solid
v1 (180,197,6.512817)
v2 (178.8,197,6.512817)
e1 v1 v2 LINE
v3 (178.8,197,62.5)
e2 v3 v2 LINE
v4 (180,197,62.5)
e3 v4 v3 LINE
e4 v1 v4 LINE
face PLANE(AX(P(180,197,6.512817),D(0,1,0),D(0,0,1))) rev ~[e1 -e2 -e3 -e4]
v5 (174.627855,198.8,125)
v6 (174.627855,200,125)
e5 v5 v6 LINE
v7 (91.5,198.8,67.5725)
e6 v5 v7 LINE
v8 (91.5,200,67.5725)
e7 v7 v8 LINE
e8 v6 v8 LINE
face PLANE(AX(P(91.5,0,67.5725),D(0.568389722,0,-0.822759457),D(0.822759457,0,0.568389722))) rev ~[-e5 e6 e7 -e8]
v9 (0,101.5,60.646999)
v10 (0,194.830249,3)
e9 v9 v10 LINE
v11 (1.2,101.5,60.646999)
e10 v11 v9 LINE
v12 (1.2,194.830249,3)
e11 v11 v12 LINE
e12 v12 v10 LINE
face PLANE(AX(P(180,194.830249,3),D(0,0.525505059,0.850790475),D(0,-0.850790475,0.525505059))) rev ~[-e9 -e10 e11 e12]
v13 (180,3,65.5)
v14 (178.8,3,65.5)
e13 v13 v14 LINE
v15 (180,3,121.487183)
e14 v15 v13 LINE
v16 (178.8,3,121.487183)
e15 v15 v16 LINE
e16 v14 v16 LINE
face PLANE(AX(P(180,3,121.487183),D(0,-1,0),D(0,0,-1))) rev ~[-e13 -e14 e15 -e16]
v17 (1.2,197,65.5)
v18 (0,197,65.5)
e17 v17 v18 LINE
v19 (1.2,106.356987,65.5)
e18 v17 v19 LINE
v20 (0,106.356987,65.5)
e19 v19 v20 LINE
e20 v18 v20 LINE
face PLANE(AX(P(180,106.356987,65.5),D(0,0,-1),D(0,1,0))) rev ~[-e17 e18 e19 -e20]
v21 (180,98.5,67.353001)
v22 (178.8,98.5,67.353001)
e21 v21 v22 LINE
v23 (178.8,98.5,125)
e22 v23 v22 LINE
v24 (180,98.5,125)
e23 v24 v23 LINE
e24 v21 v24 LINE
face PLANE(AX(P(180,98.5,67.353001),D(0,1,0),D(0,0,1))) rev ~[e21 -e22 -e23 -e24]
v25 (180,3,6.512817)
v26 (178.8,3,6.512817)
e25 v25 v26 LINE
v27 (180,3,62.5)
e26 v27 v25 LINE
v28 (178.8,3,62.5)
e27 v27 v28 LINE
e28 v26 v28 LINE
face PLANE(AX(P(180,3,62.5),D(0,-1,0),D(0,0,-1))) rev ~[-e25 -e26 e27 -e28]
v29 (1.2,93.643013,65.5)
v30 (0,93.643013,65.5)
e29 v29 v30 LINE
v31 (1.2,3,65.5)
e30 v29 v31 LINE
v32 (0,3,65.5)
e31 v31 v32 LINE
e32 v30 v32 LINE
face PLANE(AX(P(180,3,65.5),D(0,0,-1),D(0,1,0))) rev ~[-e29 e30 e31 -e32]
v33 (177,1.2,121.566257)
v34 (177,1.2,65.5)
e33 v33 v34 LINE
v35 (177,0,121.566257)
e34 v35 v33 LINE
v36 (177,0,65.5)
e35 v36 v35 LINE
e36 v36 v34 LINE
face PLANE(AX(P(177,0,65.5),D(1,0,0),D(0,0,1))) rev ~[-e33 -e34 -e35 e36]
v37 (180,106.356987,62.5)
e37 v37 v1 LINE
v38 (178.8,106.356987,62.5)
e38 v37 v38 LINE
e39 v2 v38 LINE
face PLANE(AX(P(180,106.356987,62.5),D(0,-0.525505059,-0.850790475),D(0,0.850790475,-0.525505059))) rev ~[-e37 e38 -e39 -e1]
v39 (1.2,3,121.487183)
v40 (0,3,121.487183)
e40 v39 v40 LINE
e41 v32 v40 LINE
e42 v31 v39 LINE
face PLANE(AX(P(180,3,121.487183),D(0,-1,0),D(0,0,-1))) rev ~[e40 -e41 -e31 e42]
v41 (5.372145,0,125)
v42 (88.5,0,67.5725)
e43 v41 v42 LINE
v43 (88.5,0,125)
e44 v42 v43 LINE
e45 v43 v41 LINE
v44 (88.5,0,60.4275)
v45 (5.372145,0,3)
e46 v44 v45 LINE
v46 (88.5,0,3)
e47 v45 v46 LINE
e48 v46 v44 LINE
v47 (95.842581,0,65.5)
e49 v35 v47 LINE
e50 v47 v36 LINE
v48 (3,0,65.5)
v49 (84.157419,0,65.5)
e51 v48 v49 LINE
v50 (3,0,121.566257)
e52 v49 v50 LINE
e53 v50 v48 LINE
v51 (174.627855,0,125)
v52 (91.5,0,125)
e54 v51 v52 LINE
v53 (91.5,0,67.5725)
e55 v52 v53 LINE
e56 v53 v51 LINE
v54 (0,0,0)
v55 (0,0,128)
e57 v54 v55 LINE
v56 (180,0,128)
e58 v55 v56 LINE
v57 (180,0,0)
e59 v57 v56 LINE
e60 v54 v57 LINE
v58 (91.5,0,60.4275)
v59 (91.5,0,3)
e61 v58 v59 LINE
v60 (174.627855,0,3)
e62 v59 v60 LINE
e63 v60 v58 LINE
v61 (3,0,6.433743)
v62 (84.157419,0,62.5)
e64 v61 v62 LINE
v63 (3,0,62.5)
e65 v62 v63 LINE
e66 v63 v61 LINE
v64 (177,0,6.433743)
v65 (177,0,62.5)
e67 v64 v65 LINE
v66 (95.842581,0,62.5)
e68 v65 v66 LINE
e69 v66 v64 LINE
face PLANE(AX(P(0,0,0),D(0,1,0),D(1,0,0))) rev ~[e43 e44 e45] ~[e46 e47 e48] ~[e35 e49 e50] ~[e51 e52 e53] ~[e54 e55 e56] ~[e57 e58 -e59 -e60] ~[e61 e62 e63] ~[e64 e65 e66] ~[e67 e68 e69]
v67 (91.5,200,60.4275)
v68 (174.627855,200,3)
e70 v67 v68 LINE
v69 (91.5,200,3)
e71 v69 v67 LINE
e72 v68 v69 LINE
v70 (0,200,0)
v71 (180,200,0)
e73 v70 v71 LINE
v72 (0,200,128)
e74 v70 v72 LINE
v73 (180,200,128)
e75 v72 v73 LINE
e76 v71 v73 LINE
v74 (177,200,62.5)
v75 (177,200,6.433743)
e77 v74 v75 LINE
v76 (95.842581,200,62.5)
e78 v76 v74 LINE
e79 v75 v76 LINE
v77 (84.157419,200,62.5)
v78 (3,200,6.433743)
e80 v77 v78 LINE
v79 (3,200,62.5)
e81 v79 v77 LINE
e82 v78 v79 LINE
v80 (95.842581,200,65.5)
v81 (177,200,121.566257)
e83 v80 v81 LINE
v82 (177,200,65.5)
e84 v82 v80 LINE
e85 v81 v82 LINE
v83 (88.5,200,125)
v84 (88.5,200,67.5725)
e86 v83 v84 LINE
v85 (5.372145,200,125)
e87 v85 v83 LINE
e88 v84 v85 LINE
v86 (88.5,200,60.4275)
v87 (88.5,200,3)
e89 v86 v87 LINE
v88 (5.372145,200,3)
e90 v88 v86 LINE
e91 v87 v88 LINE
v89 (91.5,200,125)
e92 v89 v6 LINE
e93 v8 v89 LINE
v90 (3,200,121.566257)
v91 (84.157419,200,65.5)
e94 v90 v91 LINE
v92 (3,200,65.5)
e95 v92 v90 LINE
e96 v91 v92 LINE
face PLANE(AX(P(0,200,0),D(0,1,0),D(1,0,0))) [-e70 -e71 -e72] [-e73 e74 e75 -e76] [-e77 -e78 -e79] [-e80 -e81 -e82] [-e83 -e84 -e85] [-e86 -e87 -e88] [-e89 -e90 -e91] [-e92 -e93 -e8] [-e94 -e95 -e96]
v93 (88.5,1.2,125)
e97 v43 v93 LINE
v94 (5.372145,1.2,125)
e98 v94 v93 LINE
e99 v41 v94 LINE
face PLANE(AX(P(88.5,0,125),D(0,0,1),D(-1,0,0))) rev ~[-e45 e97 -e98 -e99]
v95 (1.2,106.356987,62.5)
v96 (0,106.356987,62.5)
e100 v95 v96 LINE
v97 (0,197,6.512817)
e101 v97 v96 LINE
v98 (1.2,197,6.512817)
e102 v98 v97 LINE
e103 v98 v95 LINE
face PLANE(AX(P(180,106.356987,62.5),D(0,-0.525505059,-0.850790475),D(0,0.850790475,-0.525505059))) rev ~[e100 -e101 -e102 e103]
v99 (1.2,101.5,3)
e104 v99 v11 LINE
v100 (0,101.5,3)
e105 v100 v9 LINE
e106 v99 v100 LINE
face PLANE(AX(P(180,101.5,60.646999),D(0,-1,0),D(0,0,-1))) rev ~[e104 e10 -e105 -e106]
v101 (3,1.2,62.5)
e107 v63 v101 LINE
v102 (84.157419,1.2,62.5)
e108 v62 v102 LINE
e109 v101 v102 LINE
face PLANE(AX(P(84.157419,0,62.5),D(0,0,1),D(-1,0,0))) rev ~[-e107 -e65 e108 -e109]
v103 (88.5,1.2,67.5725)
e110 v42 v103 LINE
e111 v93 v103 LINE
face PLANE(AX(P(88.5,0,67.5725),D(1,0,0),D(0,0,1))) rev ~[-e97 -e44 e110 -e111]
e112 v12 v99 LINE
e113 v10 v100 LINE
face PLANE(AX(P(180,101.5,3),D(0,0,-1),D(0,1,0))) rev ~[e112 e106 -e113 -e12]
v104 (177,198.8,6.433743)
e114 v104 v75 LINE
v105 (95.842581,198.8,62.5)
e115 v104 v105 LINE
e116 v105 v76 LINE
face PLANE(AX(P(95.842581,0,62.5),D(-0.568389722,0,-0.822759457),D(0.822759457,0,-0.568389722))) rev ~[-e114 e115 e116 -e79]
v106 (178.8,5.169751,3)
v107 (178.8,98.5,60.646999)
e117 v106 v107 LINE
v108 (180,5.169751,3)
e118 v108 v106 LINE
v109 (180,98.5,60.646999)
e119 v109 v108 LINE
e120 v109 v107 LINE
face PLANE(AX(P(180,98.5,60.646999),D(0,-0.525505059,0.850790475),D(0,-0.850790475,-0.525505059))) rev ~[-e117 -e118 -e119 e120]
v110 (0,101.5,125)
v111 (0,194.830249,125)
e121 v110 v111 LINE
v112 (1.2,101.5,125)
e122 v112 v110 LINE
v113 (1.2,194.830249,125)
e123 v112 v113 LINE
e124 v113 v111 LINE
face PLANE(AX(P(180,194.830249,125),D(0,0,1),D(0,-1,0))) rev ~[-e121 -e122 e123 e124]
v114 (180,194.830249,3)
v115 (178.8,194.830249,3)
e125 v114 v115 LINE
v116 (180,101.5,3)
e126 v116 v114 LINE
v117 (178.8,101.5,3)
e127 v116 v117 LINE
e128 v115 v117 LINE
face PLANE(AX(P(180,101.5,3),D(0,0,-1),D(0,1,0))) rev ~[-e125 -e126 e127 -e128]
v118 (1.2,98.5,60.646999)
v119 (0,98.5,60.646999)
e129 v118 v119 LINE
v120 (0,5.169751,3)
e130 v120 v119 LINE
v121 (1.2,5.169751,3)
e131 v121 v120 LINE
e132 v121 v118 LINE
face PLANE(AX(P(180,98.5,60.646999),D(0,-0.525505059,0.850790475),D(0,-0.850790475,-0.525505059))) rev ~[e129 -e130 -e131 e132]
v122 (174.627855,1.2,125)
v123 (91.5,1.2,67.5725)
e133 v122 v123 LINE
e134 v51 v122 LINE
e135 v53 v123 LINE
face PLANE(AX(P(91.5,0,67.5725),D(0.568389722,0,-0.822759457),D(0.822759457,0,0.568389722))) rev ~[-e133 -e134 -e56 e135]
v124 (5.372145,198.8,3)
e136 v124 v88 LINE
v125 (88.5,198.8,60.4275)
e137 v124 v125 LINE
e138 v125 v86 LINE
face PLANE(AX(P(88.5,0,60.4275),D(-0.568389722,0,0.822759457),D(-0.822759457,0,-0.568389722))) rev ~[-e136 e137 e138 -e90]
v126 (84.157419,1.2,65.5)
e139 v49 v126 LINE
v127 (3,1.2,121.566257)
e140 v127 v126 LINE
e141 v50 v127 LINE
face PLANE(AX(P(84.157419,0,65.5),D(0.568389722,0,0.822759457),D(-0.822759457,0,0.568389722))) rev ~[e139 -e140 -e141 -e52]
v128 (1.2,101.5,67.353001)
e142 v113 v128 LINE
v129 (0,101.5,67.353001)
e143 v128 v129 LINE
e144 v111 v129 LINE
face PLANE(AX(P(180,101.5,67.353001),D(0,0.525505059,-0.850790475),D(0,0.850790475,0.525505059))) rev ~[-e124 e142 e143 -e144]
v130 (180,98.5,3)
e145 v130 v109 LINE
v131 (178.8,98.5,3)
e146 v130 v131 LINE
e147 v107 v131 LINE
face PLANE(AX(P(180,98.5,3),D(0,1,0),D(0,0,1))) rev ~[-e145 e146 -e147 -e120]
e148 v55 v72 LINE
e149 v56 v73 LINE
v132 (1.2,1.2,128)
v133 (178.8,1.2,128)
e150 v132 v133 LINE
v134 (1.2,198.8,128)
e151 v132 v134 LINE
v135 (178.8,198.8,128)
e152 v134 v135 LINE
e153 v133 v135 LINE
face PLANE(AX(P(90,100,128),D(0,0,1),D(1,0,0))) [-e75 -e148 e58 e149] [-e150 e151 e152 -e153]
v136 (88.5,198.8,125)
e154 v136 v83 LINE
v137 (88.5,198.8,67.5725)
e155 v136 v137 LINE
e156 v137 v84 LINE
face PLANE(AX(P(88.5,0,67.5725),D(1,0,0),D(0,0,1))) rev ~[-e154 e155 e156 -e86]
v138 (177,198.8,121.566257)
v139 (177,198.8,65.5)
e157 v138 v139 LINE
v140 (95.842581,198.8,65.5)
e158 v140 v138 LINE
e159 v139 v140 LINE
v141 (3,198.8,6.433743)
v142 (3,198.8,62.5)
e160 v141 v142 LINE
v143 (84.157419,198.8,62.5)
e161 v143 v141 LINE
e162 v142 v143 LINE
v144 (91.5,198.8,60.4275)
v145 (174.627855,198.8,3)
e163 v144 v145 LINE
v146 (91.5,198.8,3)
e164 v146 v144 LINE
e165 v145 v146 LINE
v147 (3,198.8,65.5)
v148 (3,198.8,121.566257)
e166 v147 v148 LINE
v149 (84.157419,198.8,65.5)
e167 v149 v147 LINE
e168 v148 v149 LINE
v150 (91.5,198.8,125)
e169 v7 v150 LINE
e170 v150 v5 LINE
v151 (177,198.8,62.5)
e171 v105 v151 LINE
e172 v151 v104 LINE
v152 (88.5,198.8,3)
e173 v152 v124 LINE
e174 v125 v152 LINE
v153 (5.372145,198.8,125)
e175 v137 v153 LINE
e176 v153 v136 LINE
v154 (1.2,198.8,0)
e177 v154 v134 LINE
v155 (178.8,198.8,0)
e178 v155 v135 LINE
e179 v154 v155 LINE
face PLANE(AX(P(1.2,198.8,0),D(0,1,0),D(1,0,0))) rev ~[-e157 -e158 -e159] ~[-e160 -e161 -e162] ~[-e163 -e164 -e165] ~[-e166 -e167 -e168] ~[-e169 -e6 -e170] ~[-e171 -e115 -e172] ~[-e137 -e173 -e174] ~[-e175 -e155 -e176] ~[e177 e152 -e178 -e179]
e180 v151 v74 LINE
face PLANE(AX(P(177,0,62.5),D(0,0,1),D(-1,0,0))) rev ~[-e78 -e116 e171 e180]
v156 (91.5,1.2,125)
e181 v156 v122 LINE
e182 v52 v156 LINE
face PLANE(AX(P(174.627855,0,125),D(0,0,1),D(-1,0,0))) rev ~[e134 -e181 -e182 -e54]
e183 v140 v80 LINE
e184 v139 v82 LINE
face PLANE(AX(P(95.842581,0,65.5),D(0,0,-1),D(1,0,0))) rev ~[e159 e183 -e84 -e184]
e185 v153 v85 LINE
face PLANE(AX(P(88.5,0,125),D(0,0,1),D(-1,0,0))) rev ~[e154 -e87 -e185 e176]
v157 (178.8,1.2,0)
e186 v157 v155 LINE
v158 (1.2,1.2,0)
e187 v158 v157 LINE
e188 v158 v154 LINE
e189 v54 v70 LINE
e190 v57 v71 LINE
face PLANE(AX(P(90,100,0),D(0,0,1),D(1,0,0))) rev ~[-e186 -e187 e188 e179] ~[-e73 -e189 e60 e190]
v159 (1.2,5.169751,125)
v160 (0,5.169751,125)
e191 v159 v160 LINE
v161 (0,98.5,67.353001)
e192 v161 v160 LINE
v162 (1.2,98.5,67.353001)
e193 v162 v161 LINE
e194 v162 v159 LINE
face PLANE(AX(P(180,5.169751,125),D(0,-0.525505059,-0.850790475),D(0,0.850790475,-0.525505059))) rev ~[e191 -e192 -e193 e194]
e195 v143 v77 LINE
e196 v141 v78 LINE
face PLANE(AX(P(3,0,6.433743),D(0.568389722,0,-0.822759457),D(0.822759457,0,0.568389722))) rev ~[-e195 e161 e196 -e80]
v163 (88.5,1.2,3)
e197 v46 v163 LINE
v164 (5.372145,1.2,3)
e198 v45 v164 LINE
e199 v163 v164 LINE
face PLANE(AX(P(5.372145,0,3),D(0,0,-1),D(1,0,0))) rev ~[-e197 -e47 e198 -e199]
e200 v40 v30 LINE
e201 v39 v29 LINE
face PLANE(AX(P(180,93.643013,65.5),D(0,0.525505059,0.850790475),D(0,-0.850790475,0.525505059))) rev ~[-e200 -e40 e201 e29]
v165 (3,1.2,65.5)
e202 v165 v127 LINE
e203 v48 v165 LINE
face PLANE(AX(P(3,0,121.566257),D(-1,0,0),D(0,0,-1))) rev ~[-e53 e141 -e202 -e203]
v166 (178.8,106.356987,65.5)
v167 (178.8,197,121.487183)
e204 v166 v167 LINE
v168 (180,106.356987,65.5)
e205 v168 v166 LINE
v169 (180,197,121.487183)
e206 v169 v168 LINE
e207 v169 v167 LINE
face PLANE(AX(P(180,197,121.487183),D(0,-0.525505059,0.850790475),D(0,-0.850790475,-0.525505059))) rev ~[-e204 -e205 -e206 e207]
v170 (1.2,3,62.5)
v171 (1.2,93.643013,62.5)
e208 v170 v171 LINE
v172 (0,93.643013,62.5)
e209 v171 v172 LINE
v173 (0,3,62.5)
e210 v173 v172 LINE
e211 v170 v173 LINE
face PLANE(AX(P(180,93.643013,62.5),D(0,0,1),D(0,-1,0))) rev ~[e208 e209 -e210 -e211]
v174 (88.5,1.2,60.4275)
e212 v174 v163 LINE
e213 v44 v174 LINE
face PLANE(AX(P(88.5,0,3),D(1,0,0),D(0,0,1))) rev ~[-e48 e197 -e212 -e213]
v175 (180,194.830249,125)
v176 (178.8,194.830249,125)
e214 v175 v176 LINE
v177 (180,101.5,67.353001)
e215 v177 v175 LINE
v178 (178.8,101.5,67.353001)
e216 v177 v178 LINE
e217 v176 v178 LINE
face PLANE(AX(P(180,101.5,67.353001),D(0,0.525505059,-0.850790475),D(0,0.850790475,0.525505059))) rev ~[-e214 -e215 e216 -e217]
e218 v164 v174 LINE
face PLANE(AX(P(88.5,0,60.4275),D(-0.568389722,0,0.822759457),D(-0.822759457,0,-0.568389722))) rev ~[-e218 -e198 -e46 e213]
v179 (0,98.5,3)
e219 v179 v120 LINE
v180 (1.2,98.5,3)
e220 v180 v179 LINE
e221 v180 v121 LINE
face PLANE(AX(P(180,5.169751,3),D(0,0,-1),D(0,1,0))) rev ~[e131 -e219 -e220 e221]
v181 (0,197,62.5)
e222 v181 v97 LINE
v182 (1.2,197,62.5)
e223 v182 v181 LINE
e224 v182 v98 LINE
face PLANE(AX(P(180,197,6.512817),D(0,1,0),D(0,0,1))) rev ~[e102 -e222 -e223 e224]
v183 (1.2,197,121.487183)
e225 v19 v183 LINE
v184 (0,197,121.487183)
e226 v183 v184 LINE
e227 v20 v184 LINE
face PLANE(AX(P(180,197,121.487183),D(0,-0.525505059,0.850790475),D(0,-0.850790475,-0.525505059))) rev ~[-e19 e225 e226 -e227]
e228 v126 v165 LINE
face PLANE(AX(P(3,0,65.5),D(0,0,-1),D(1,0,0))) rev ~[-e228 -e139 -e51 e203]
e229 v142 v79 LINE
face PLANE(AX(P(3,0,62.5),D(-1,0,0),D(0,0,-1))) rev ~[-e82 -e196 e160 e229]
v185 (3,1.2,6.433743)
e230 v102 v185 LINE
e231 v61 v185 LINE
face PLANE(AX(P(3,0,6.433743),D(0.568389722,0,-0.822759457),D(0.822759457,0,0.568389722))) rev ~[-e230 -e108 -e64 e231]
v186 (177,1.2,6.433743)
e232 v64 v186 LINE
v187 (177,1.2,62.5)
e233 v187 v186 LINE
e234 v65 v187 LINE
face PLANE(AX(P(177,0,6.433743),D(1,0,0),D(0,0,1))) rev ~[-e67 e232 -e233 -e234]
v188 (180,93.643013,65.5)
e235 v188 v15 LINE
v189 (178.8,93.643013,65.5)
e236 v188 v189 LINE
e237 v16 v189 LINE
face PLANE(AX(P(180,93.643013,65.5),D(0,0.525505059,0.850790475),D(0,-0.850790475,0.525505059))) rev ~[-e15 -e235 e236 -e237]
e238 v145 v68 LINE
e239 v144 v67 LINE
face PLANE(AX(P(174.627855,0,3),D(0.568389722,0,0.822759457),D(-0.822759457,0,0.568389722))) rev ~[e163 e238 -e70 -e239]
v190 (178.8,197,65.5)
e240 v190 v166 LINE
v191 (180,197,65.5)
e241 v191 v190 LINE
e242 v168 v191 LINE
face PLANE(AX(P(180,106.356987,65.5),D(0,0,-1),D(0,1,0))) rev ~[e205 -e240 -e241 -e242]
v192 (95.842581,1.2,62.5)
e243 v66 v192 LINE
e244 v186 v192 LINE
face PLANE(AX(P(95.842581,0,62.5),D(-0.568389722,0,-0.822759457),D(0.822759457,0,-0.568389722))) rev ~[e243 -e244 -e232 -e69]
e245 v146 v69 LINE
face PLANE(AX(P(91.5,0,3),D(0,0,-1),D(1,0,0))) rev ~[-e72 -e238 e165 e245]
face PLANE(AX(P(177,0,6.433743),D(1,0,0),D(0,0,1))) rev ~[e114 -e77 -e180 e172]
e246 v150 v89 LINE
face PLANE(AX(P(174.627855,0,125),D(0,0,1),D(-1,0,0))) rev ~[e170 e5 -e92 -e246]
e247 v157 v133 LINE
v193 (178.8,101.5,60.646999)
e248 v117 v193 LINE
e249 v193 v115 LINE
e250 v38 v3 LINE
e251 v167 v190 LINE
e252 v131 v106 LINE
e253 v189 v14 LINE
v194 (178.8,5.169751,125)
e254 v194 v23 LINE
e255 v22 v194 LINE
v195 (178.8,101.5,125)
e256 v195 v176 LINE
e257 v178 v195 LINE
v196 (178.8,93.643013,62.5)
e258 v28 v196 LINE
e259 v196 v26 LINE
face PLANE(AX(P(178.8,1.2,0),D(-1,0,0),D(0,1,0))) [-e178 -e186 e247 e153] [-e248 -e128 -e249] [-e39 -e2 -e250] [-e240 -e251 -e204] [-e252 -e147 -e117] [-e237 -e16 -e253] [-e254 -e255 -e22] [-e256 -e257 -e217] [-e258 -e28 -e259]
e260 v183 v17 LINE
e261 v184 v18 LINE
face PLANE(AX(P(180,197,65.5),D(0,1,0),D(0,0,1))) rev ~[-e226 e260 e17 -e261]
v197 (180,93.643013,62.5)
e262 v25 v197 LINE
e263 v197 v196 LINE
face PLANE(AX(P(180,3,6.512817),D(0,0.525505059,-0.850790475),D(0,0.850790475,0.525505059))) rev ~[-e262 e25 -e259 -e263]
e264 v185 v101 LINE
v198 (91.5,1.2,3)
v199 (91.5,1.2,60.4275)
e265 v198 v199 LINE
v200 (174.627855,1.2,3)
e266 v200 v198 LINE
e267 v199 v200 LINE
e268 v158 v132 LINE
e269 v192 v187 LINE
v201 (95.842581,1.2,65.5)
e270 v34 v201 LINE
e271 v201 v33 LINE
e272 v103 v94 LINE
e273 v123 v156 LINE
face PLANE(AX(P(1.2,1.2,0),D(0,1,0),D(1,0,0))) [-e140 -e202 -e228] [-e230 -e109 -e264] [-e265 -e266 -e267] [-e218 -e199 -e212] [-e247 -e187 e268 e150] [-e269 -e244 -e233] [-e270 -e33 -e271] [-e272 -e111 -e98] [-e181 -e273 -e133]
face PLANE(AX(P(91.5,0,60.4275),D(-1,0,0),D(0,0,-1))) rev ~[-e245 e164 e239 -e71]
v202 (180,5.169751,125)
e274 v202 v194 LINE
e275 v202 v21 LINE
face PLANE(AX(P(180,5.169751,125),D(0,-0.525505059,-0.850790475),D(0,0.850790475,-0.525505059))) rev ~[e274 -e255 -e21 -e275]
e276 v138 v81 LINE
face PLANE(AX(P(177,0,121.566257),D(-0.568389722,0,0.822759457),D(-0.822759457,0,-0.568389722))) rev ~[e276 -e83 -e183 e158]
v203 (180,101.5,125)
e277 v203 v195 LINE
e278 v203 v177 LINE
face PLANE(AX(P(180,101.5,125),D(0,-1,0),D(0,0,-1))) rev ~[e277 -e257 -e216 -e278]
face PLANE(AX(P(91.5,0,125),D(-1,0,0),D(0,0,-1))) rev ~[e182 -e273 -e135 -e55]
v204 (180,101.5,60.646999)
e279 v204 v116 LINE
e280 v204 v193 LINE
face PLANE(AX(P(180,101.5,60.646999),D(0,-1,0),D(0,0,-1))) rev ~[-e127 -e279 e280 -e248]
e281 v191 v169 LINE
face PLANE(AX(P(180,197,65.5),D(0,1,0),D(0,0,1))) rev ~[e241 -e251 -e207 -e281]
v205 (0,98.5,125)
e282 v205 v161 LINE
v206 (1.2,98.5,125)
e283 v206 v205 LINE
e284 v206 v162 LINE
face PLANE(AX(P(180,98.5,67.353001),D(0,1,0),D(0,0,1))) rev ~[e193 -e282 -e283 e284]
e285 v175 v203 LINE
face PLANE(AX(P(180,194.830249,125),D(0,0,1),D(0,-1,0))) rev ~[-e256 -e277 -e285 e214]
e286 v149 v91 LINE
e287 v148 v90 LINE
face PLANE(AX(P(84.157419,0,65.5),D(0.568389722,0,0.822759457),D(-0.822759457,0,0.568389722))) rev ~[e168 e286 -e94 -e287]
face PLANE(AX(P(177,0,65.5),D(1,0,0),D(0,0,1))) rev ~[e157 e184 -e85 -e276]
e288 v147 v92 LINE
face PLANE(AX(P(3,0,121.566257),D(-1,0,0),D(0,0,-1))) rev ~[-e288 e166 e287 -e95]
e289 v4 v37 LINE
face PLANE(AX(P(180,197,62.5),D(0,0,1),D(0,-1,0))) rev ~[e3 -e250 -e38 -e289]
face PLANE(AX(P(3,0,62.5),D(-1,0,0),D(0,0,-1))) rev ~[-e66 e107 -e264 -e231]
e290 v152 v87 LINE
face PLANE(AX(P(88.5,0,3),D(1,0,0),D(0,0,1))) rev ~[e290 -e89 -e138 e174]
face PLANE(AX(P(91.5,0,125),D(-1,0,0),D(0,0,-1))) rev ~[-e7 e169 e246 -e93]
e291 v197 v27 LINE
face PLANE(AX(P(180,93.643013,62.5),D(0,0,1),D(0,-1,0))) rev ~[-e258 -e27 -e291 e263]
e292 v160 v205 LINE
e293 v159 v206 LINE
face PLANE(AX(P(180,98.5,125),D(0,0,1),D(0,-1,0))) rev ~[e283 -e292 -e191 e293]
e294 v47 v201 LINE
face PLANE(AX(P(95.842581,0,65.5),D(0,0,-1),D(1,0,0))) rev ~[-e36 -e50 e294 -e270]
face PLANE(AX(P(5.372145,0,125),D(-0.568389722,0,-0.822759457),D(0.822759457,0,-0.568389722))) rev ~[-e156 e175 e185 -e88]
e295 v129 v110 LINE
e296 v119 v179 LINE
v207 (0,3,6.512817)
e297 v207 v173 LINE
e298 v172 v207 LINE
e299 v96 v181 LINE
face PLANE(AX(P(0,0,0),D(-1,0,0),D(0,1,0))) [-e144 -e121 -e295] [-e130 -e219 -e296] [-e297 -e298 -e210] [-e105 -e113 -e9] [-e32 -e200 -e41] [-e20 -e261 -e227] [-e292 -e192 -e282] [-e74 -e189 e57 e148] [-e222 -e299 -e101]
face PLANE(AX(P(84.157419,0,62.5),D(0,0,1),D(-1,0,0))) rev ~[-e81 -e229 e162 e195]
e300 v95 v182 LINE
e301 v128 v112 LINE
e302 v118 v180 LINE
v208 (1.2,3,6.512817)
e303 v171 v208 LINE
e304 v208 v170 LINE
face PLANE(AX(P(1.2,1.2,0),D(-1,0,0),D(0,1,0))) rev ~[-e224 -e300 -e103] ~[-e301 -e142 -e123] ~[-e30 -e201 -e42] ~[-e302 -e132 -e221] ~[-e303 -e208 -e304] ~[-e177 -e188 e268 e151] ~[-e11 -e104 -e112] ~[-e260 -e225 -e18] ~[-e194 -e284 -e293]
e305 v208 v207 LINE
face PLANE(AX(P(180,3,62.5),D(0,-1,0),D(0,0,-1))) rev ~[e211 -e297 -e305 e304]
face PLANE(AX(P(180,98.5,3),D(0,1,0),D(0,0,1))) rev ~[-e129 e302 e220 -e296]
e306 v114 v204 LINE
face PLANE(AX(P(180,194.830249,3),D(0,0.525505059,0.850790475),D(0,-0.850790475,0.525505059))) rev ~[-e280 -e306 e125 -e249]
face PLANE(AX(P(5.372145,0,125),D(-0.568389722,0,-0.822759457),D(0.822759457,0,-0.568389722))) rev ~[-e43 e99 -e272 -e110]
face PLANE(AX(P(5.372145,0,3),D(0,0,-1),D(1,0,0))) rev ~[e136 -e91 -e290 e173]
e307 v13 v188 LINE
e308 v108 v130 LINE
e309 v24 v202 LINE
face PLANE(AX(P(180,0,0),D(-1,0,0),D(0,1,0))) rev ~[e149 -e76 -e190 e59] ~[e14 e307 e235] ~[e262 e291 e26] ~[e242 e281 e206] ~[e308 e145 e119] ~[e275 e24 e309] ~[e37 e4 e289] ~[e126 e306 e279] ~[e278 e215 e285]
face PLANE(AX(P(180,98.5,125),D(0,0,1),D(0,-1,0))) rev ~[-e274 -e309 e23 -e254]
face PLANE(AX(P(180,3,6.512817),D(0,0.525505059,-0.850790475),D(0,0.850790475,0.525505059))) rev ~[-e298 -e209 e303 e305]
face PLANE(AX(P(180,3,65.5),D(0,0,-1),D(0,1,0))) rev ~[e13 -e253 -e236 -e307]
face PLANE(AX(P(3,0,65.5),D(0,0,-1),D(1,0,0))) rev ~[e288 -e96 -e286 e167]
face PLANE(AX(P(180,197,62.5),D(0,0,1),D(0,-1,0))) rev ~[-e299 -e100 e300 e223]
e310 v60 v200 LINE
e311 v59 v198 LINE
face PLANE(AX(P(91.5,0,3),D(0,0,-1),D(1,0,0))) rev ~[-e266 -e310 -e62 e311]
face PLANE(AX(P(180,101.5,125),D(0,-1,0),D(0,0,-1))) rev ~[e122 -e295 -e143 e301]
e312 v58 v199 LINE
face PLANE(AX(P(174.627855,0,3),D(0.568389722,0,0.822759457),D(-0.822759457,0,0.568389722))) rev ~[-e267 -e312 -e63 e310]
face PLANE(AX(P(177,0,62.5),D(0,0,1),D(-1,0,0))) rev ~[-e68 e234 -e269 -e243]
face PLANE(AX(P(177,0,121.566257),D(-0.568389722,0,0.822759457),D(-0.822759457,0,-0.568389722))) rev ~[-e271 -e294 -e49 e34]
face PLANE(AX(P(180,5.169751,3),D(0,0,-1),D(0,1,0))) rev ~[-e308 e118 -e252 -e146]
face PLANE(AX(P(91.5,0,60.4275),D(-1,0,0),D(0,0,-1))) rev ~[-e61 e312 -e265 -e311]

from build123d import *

# Parameters (mm, degrees)
F0_W     = 180
F0_H     = 200
F0_W_2   = 177.6
F0_H_2   = 197.6
F1_DEPTH = 128
F3_DEPTH = 200.001
F5_DEPTH = 180.001


with BuildPart() as f1:
    # F0 (on Top) → F1 (new body)
    with BuildSketch(Plane.XY):
        with Locations((90, 100)):
            Rectangle(F0_W, F0_H)
        with Locations((90, 100)):
            Rectangle(F0_W_2, F0_H_2, mode=Mode.SUBTRACT)
    extrude(amount=F1_DEPTH)

    # F2 (on face) → F3 (cut, through all)
    with BuildSketch(Plane.XZ):
        Polygon((3, 121.5662565704), (3, 65.5), (84.1574190597, 65.5), align=None)
        Polygon((5.3721446832, 125), (88.5, 67.5725002305), (88.5, 125), align=None)
        Polygon((91.5, 125), (91.5, 67.5725002305), (174.6278553168, 125), align=None)
        Polygon((177, 121.5662565704), (95.8425809403, 65.5), (177, 65.5), align=None)
        Polygon((177, 62.5), (95.8425809403, 62.5), (177, 6.4337434296), align=None)
        Polygon((91.5, 60.4274997695), (91.5, 3), (174.6278553168, 3), align=None)
        Polygon((88.5, 60.4274997695), (5.3721446832, 3), (88.5, 3), align=None)
        Polygon((3, 62.5), (3, 6.4337434296), (84.1574190597, 62.5), align=None)
    extrude(amount=-F3_DEPTH, mode=Mode.SUBTRACT)

    # F4 (on face) → F5 (cut, through all)
    with BuildSketch(Plane.YZ.offset(180)):
        Polygon((3, 121.4871826042), (3, 65.5), (93.6430126453, 65.5), align=None)
        Polygon((5.1697507977, 125), (98.5, 67.3530005007), (98.5, 125), align=None)
        Polygon((101.5, 125), (101.5, 67.3530005007), (194.8302492023, 125), align=None)
        Polygon((197, 121.4871826042), (106.3569873547, 65.5), (197, 65.5), align=None)
        Polygon((197, 62.5), (106.3569873547, 62.5), (197, 6.5128173958), align=None)
        Polygon((101.5, 60.6469994993), (101.5, 3), (194.8302492023, 3), align=None)
        Polygon((98.5, 60.6469994993), (5.1697507977, 3), (98.5, 3), align=None)
        Polygon((3, 62.5), (3, 6.5128173958), (93.6430126453, 62.5), align=None)
    extrude(amount=-F5_DEPTH, mode=Mode.SUBTRACT)


solid = f1.part
